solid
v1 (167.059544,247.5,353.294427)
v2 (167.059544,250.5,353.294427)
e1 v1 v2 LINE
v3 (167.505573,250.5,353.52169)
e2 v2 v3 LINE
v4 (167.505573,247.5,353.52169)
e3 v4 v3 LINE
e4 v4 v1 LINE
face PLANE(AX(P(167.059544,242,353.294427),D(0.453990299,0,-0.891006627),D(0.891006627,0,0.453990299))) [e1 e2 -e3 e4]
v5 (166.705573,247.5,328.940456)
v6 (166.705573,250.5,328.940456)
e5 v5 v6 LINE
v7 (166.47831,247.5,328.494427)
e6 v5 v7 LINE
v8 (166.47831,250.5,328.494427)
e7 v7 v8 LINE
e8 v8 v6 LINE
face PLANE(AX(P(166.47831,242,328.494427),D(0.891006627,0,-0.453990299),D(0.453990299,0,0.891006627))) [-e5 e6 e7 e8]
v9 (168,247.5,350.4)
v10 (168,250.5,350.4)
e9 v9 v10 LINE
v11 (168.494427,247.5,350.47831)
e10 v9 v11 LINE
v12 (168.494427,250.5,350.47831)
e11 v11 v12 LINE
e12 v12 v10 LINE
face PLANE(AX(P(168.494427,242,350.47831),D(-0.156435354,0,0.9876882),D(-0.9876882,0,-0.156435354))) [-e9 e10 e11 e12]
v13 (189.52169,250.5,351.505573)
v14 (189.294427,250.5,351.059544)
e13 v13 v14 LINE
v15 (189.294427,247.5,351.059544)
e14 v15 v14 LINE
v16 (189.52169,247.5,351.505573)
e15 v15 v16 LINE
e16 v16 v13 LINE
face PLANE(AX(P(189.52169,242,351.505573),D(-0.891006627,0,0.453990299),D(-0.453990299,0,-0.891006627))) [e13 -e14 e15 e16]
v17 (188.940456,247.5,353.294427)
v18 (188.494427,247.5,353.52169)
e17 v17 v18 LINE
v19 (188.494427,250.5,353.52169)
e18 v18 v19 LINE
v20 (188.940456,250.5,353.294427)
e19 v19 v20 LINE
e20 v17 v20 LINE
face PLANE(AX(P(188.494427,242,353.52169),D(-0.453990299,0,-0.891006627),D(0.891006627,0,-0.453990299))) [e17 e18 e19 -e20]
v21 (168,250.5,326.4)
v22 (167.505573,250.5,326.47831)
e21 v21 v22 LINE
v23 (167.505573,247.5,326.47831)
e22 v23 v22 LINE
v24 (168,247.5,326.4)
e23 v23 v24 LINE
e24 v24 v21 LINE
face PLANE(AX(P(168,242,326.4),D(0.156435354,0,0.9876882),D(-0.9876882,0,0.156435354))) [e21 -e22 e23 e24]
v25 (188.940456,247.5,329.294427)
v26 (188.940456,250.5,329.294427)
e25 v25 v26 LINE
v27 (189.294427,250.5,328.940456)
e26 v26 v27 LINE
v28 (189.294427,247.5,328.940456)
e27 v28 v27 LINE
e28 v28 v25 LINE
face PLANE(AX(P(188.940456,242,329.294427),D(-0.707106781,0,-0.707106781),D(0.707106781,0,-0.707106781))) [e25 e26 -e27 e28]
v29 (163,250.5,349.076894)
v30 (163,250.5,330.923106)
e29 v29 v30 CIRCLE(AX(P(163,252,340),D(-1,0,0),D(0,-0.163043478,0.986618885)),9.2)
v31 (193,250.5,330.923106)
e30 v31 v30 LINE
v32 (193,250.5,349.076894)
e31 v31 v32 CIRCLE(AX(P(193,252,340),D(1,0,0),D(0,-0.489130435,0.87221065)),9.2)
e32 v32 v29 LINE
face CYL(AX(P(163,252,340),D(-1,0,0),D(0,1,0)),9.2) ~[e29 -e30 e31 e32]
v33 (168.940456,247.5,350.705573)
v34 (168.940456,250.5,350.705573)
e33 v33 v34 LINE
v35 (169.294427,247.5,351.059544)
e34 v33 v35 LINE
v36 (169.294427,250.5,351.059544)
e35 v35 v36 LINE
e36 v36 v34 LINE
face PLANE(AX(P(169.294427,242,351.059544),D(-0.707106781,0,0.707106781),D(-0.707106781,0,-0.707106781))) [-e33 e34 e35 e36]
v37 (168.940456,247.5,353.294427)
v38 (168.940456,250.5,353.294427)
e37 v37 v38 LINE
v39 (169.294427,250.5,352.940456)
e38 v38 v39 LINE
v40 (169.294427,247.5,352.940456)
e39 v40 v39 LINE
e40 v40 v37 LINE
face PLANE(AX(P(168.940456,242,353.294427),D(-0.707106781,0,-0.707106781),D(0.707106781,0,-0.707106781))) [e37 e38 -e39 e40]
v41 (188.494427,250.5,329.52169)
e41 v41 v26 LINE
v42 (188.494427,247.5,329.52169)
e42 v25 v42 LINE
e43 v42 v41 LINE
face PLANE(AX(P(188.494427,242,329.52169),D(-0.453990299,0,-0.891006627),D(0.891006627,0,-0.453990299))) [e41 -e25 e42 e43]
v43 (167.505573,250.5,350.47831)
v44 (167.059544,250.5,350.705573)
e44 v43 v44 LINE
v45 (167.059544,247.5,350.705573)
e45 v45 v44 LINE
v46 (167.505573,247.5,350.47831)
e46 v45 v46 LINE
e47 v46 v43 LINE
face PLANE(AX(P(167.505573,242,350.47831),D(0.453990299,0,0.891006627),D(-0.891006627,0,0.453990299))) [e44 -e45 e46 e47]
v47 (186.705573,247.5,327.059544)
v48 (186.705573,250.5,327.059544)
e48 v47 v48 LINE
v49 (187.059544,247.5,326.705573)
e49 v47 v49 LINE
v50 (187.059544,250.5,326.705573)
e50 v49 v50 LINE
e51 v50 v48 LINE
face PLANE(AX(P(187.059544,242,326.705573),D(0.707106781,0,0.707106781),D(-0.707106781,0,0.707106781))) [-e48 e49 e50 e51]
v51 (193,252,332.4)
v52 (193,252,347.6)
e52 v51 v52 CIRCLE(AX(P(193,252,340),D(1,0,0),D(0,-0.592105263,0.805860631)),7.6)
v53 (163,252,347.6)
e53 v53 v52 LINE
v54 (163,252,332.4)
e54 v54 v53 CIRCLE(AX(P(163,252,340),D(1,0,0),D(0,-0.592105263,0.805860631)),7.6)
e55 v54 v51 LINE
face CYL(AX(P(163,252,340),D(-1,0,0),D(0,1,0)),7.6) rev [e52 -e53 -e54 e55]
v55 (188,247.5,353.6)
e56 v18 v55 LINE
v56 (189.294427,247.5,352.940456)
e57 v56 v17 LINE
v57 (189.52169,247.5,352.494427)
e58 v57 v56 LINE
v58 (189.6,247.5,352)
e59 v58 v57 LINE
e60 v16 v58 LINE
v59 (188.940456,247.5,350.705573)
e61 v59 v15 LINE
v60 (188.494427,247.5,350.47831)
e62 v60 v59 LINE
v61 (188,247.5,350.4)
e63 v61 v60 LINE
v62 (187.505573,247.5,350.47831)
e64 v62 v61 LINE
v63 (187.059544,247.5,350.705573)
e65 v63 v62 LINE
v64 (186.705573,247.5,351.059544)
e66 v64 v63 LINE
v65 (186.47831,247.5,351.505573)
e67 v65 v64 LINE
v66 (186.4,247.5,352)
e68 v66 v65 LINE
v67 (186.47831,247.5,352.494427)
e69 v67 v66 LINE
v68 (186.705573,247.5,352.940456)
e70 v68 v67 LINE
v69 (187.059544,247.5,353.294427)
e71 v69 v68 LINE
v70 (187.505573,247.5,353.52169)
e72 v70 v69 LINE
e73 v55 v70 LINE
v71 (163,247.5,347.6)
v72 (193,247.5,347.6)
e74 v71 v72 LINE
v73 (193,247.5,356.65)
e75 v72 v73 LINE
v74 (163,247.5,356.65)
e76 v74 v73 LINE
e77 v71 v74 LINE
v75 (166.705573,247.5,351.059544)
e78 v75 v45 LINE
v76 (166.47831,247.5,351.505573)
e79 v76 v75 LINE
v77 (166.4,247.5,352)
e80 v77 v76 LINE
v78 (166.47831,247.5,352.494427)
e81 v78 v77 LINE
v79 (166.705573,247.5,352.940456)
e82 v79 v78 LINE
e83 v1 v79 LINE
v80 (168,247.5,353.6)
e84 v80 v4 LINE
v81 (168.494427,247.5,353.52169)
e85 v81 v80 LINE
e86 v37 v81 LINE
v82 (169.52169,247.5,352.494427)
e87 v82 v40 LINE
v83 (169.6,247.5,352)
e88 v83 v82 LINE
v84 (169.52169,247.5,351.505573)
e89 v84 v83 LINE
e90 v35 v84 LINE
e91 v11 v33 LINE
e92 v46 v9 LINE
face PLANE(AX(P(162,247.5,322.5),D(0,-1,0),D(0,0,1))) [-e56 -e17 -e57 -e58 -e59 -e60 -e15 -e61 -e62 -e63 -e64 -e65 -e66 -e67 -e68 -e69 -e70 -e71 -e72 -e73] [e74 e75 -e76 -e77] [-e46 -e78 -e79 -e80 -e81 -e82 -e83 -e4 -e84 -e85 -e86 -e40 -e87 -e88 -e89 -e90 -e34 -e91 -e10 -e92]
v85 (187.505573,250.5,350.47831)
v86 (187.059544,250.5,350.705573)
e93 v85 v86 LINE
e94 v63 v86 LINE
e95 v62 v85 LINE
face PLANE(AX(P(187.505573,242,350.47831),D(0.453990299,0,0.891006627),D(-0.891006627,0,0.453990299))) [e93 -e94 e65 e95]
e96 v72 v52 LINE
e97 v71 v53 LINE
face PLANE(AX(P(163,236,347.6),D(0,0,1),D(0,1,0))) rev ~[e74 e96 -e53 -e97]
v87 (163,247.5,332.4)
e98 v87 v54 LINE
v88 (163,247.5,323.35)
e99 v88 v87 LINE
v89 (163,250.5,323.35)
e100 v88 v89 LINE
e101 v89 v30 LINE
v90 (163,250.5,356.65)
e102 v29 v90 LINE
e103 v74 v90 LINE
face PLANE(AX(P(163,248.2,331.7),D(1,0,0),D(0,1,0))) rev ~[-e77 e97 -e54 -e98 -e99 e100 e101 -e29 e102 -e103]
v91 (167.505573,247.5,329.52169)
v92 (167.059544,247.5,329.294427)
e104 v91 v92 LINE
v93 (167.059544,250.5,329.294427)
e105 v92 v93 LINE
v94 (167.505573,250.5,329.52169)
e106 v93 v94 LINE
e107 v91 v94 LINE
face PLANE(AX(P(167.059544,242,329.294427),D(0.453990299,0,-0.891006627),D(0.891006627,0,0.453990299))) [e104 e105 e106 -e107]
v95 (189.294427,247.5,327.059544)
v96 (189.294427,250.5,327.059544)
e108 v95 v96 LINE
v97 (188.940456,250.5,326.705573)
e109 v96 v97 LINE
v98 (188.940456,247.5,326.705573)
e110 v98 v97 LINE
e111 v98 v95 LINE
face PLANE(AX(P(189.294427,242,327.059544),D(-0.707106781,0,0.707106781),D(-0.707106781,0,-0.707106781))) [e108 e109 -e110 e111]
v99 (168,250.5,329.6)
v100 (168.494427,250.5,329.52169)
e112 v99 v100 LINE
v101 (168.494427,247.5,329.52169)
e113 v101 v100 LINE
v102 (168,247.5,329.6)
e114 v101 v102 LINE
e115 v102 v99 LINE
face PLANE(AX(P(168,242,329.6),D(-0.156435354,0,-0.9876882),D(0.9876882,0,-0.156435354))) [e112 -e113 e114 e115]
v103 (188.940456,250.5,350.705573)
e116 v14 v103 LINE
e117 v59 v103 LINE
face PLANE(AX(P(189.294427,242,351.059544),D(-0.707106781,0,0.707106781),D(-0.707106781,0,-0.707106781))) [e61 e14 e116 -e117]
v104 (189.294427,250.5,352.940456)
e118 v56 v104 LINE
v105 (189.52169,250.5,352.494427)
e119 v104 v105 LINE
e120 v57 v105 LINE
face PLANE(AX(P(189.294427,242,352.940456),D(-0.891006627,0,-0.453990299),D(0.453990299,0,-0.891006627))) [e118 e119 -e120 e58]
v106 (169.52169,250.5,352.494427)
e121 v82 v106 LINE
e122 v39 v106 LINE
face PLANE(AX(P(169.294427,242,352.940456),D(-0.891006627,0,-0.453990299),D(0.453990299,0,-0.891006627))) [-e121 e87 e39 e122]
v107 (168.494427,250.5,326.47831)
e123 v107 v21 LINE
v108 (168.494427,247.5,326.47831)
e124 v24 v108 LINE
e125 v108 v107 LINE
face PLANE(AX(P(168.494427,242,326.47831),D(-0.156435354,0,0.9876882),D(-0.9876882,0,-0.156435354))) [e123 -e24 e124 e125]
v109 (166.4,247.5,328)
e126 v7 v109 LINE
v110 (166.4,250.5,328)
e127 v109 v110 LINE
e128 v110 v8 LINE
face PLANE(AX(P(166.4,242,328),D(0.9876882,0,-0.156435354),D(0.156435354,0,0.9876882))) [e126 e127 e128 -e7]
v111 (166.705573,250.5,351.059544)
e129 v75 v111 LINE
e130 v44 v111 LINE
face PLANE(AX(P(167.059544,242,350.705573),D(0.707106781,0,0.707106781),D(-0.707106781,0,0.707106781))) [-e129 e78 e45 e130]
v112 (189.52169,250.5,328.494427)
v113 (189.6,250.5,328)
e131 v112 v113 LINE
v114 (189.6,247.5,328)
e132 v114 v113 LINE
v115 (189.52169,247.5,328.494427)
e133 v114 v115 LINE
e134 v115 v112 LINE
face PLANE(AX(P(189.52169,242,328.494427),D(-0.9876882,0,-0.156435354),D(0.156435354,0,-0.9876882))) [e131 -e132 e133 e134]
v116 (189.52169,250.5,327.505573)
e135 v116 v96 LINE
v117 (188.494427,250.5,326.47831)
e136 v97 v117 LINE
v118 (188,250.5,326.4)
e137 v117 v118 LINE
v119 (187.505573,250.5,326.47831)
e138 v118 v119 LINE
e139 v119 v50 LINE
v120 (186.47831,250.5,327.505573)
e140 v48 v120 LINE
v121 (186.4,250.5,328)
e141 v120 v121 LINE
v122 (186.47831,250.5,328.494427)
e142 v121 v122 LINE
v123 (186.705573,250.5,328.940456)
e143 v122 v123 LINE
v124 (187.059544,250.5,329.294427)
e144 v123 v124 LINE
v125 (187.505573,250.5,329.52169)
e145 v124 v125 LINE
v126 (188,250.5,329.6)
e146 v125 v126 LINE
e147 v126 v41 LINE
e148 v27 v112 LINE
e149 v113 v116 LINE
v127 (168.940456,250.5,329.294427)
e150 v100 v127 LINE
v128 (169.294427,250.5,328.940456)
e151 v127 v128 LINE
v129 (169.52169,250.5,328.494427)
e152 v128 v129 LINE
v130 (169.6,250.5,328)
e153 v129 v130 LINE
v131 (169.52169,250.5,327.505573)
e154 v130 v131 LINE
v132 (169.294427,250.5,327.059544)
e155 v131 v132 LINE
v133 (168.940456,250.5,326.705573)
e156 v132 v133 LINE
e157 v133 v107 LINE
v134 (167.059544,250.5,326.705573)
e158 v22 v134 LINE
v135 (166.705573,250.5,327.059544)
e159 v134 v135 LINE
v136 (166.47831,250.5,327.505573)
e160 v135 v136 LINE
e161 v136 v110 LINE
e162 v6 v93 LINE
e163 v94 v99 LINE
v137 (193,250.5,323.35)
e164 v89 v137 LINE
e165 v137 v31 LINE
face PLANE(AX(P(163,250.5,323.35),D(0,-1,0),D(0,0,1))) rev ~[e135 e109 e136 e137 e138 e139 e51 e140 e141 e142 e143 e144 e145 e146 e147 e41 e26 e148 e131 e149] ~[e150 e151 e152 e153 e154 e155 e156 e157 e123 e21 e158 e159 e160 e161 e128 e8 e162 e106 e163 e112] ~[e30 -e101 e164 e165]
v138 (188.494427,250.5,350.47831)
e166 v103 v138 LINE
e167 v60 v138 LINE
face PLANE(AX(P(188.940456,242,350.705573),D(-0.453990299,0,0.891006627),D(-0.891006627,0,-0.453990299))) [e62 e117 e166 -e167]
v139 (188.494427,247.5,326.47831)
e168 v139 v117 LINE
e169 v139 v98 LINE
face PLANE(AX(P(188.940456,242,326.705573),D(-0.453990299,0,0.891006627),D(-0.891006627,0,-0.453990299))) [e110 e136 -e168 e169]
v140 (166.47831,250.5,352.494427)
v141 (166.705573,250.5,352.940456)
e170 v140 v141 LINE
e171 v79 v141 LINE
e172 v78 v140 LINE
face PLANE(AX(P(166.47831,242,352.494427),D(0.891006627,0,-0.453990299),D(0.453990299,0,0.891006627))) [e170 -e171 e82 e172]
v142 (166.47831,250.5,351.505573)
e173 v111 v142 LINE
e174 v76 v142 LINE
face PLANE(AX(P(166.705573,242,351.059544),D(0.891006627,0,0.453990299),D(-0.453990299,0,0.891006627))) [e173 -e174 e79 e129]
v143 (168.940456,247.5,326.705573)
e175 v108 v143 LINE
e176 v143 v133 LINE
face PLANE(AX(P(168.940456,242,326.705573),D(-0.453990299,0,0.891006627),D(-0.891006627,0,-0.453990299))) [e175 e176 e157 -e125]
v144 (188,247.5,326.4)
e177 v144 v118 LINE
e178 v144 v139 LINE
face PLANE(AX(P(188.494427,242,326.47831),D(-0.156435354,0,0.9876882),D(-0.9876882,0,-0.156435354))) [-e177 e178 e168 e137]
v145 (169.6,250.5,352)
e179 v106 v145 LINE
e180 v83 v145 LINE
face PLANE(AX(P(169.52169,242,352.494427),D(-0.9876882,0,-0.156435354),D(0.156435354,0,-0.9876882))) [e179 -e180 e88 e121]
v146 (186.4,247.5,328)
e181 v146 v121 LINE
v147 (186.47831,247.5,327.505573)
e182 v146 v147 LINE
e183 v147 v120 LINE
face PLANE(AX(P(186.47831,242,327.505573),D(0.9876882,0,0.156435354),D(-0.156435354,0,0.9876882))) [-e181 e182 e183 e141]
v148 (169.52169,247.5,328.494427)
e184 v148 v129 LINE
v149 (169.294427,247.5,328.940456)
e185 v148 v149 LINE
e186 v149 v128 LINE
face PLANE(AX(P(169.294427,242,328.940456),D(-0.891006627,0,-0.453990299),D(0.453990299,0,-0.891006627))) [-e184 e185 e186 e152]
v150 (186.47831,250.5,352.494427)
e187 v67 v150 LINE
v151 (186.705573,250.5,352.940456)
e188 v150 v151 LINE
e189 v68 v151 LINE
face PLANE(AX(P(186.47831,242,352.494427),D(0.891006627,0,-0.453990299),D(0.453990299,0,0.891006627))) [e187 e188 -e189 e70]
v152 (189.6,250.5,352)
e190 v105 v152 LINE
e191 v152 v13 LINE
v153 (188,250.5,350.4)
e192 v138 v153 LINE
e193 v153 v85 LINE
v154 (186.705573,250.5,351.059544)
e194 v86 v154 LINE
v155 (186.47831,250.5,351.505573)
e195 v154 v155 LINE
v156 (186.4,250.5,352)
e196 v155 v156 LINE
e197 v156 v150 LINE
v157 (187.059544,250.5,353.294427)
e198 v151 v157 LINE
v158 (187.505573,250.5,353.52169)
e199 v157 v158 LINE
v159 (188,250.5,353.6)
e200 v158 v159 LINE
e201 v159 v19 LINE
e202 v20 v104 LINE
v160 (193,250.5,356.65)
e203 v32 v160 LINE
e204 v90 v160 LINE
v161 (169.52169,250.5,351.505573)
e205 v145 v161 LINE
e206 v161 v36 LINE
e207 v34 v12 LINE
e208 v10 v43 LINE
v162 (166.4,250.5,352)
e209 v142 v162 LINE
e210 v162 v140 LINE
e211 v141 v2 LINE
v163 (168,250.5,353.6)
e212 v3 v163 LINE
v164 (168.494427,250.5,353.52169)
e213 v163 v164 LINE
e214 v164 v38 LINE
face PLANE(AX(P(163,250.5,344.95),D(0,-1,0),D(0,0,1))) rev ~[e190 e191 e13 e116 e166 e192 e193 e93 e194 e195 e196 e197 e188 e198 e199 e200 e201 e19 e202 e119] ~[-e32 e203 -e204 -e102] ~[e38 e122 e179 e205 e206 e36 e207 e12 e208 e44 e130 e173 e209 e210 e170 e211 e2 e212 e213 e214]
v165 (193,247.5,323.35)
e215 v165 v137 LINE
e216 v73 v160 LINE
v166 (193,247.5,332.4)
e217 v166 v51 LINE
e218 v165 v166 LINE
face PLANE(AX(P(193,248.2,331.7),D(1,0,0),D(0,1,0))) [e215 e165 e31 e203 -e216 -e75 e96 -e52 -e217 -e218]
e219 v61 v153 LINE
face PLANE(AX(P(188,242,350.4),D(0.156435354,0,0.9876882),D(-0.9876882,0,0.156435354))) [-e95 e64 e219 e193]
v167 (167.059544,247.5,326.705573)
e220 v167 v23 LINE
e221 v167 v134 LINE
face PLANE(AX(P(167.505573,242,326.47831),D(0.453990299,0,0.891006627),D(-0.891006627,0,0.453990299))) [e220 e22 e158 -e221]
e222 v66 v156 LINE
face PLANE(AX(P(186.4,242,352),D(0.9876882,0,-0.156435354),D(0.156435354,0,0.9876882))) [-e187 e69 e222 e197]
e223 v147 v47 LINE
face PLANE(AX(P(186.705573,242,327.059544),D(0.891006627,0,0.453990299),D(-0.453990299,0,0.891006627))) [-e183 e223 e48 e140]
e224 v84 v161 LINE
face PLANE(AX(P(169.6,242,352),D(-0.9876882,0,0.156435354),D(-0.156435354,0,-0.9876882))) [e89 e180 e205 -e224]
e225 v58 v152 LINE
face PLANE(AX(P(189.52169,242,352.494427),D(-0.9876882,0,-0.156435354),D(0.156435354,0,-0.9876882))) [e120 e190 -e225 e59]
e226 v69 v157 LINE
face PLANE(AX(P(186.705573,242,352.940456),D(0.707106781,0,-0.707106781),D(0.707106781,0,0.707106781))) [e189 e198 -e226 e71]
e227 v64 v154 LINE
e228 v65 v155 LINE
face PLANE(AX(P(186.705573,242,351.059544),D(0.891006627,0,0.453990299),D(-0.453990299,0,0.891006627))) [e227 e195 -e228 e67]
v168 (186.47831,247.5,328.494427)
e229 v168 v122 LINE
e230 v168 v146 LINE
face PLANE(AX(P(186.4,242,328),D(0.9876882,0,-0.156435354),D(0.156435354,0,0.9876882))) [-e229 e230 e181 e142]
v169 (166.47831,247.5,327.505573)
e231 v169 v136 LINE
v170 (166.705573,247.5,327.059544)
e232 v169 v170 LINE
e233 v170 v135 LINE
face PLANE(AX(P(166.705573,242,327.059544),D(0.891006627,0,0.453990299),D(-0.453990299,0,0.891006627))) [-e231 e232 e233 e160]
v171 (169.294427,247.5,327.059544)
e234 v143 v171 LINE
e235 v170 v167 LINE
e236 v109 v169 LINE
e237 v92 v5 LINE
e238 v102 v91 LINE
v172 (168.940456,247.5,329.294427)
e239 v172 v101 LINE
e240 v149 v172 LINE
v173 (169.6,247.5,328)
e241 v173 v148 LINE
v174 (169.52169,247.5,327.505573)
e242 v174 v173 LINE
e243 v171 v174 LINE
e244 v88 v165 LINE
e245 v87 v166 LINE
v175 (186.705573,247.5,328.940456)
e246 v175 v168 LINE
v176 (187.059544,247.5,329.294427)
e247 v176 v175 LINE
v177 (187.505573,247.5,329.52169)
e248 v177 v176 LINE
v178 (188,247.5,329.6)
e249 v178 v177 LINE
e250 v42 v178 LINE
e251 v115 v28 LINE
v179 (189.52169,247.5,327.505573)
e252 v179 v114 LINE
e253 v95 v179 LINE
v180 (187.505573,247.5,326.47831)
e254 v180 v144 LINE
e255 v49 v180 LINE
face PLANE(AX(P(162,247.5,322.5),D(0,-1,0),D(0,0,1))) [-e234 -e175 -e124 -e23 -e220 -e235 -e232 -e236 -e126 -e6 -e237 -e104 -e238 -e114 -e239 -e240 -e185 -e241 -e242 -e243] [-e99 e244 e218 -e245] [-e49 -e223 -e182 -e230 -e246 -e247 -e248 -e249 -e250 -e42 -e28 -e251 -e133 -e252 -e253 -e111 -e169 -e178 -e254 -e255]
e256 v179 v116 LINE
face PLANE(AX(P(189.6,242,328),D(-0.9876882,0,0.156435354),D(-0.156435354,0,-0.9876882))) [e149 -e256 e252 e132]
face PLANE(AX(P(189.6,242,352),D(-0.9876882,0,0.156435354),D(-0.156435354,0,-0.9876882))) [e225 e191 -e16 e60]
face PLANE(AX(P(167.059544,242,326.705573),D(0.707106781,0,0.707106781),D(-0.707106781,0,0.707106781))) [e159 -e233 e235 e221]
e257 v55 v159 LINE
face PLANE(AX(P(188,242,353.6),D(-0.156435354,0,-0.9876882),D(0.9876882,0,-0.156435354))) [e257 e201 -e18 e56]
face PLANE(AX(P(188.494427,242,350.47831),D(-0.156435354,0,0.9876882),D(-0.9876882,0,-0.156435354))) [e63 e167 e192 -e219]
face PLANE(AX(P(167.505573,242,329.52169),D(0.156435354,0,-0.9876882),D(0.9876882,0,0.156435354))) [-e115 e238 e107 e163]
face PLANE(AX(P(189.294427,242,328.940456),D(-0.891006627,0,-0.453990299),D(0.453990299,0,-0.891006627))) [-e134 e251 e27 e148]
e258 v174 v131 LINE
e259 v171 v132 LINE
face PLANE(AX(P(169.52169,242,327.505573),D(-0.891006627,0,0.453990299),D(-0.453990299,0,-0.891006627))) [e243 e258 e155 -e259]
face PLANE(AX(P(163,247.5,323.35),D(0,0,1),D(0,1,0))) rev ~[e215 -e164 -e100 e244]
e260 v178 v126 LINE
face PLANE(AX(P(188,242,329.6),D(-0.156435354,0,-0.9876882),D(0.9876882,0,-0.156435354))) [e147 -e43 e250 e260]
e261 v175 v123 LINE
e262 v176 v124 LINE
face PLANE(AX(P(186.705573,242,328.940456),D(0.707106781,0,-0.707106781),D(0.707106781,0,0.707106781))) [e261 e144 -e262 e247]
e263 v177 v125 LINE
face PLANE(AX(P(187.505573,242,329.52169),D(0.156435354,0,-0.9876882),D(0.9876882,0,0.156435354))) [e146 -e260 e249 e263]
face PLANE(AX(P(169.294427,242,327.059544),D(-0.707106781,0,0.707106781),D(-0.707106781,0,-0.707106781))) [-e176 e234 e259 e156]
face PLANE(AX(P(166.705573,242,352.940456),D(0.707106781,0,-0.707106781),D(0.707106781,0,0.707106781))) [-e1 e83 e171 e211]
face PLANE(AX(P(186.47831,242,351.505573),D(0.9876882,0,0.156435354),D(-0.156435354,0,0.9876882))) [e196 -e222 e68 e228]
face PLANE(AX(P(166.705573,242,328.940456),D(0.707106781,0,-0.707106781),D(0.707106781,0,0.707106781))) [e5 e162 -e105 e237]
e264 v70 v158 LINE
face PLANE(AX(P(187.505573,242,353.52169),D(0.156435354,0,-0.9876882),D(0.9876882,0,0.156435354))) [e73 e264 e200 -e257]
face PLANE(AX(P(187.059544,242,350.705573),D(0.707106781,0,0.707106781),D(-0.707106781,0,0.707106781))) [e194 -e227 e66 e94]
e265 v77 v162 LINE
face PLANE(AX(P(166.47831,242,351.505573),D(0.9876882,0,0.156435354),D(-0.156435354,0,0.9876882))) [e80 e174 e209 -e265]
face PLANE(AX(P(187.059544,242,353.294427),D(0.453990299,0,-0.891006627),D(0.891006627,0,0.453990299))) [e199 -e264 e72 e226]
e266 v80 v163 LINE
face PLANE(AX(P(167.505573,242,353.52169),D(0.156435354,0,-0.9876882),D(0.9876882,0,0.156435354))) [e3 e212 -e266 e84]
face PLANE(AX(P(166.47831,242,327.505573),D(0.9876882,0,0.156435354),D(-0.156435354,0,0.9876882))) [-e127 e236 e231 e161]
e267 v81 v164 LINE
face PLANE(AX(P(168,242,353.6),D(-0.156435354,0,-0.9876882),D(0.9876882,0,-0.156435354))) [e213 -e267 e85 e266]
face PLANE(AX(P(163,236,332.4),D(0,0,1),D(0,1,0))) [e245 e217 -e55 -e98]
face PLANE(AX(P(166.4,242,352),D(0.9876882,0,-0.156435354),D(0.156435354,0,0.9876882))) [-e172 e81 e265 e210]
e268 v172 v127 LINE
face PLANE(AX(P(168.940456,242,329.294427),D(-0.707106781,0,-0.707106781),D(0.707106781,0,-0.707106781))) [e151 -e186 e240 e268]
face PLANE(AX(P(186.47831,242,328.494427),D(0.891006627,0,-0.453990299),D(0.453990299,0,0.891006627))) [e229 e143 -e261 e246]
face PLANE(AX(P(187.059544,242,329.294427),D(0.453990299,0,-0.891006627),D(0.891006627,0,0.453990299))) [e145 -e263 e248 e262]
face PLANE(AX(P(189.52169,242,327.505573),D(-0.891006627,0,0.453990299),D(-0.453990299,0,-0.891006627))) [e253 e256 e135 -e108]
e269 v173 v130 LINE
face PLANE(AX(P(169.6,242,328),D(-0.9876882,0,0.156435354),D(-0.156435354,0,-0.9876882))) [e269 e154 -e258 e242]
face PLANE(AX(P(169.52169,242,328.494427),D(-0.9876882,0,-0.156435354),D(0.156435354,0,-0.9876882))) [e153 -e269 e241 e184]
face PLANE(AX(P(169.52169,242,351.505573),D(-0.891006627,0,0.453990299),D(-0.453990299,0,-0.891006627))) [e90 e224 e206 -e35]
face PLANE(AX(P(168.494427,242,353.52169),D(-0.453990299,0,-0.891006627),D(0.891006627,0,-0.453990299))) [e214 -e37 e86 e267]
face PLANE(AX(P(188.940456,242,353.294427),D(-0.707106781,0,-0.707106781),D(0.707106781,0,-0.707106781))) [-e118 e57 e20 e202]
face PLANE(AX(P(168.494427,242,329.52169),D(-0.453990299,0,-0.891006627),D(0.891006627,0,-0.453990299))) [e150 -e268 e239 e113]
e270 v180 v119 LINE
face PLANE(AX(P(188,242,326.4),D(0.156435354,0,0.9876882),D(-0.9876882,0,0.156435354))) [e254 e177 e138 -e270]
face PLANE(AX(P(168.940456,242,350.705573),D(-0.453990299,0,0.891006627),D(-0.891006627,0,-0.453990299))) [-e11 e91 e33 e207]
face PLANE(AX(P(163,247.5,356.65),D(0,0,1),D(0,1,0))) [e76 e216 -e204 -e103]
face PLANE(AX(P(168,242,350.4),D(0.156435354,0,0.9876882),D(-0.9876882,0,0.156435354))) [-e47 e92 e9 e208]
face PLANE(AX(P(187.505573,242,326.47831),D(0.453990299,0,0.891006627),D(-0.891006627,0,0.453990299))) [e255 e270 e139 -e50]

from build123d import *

# Parameters (mm, degrees)
PRISM066_DEPTH                = 10
PRISM066_PITCH_ANGLE          = 90
PRISM067_DEPTH                = 10
PRISM067_PITCH_ANGLE          = 90
PRISM068_DEPTH                = 10
PRISM068_PITCH_ANGLE          = 90
PRISM069_DEPTH                = 10
PRISM069_PITCH_ANGLE          = 90
CUBE076_W                     = 5
CUBE076_H                     = 35
CUBE076_DEPTH                 = 32
CUBE075_W                     = 16
CUBE075_H                     = 15.2
CUBE075_DEPTH                 = 30
CUBE071_W                     = 3
CUBE071_H                     = 11.7
CUBE071_DEPTH                 = 30
CUBE072_W                     = 3
CUBE072_H                     = 11.7
CUBE072_DEPTH                 = 30
CUBE073_W                     = 1.6
CUBE073_H                     = 1.6
CUBE073_DEPTH                 = 30
CUBE074_W                     = 1.6
CUBE074_H                     = 1.6
CUBE074_DEPTH                 = 30
CYLINDER019_R                 = 7.6
CYLINDER019_DEPTH             = 30
CYLINDER018_R                 = 9.2
CYLINDER018_DEPTH             = 30
DIFFERENCE048_ROLL_ANGLE      = 90
DIFFERENCE048_PLACEMENT_ANGLE = 90


with BuildPart() as prism066:
    # prism066 → prism066 (new body)
    with BuildSketch(Plane.XY):
        Polygon((1.6, 0), (1.52169, 0.494427), (1.294427, 0.940456), (0.940456, 1.294427), (0.494427, 1.52169), (0, 1.6), (-0.494427, 1.52169), (-0.940456, 1.294427), (-1.294427, 0.940456), (-1.52169, 0.494427), (-1.6, 0), (-1.52169, -0.494427), (-1.294427, -0.940456), (-0.940456, -1.294427), (-0.494427, -1.52169), (0, -1.6), (0.494427, -1.52169), (0.940456, -1.294427), (1.294427, -0.940456), (1.52169, -0.494427), align=None)
    extrude(amount=PRISM066_DEPTH)


with BuildPart() as prism066_1:
    # prism066 pitch: moved
    add(prism066.part.rotate(Axis((0, 0, 0), (0, 1, 0)), PRISM066_PITCH_ANGLE))


with BuildPart() as prism066_2:
    # prism066 placement: moved
    add(prism066_1.part.moved(Location((-10, 12, 10))))


with BuildPart() as prism067:
    # prism067 → prism067 (new body)
    with BuildSketch(Plane.XY):
        Polygon((1.6, 0), (1.52169, 0.494427), (1.294427, 0.940456), (0.940456, 1.294427), (0.494427, 1.52169), (0, 1.6), (-0.494427, 1.52169), (-0.940456, 1.294427), (-1.294427, 0.940456), (-1.52169, 0.494427), (-1.6, 0), (-1.52169, -0.494427), (-1.294427, -0.940456), (-0.940456, -1.294427), (-0.494427, -1.52169), (0, -1.6), (0.494427, -1.52169), (0.940456, -1.294427), (1.294427, -0.940456), (1.52169, -0.494427), align=None)
    extrude(amount=PRISM067_DEPTH)


with BuildPart() as prism067_1:
    # prism067 pitch: moved
    add(prism067.part.rotate(Axis((0, 0, 0), (0, 1, 0)), PRISM067_PITCH_ANGLE))


with BuildPart() as prism067_2:
    # prism067 placement: moved
    add(prism067_1.part.moved(Location((-10, 12, -10))))


with BuildPart() as prism068:
    # prism068 → prism068 (new body)
    with BuildSketch(Plane.XY):
        Polygon((1.6, 0), (1.52169, 0.494427), (1.294427, 0.940456), (0.940456, 1.294427), (0.494427, 1.52169), (0, 1.6), (-0.494427, 1.52169), (-0.940456, 1.294427), (-1.294427, 0.940456), (-1.52169, 0.494427), (-1.6, 0), (-1.52169, -0.494427), (-1.294427, -0.940456), (-0.940456, -1.294427), (-0.494427, -1.52169), (0, -1.6), (0.494427, -1.52169), (0.940456, -1.294427), (1.294427, -0.940456), (1.52169, -0.494427), align=None)
    extrude(amount=PRISM068_DEPTH)


with BuildPart() as prism068_1:
    # prism068 pitch: moved
    add(prism068.part.rotate(Axis((0, 0, 0), (0, 1, 0)), PRISM068_PITCH_ANGLE))


with BuildPart() as prism068_2:
    # prism068 placement: moved
    add(prism068_1.part.moved(Location((-10, -12, 10))))


with BuildPart() as prism069:
    # prism069 → prism069 (new body)
    with BuildSketch(Plane.XY):
        Polygon((1.6, 0), (1.52169, 0.494427), (1.294427, 0.940456), (0.940456, 1.294427), (0.494427, 1.52169), (0, 1.6), (-0.494427, 1.52169), (-0.940456, 1.294427), (-1.294427, 0.940456), (-1.52169, 0.494427), (-1.6, 0), (-1.52169, -0.494427), (-1.294427, -0.940456), (-0.940456, -1.294427), (-0.494427, -1.52169), (0, -1.6), (0.494427, -1.52169), (0.940456, -1.294427), (1.294427, -0.940456), (1.52169, -0.494427), align=None)
    extrude(amount=PRISM069_DEPTH)


with BuildPart() as prism069_1:
    # prism069 pitch: moved
    add(prism069.part.rotate(Axis((0, 0, 0), (0, 1, 0)), PRISM069_PITCH_ANGLE))


with BuildPart() as prism069_2:
    # prism069 placement: moved
    add(prism069_1.part.moved(Location((-10, -12, -10))))


with BuildPart() as cube076:
    # cube076 → cube076 (new body)
    with BuildSketch(Plane(origin=(-9.5, -17.5, -16), x_dir=(1, 0, 0), z_dir=(0, 0, 1))):
        with Locations((2.5, 17.5)):
            Rectangle(CUBE076_W, CUBE076_H)
    extrude(amount=CUBE076_DEPTH)


with BuildPart() as union036:
    # cube075 → cube075 (new body)
    with BuildSketch(Plane(origin=(-16, -7.6, -15), x_dir=(1, 0, 0), z_dir=(0, 0, 1))):
        with Locations((8, 7.6)):
            Rectangle(CUBE075_W, CUBE075_H)
    extrude(amount=CUBE075_DEPTH)

    # union036: union prism066, prism067, prism068, prism069, cube076
    add(prism066_2.part)
    add(prism067_2.part)
    add(prism068_2.part)
    add(prism069_2.part)
    add(cube076.part)


with BuildPart() as cube071:
    # cube071 → cube071 (new body)
    with BuildSketch(Plane(origin=(-4.5, 4.95, -15), x_dir=(1, 0, 0), z_dir=(0, 0, 1))):
        with Locations((1.5, 5.85)):
            Rectangle(CUBE071_W, CUBE071_H)
    extrude(amount=CUBE071_DEPTH)


with BuildPart() as cube072:
    # cube072 → cube072 (new body)
    with BuildSketch(Plane(origin=(-4.5, -16.65, -15), x_dir=(1, 0, 0), z_dir=(0, 0, 1))):
        with Locations((1.5, 5.85)):
            Rectangle(CUBE072_W, CUBE072_H)
    extrude(amount=CUBE072_DEPTH)


with BuildPart() as cube073:
    # cube073 → cube073 (new body)
    with BuildSketch(Plane(origin=(-4.6, 7.5, -15), x_dir=(1, 0, 0), z_dir=(0, 0, 1))):
        with Locations((0.8, 0.8)):
            Rectangle(CUBE073_W, CUBE073_H)
    extrude(amount=CUBE073_DEPTH)


with BuildPart() as cube074:
    # cube074 → cube074 (new body)
    with BuildSketch(Plane(origin=(-4.6, -9.1, -15), x_dir=(1, 0, 0), z_dir=(0, 0, 1))):
        with Locations((0.8, 0.8)):
            Rectangle(CUBE074_W, CUBE074_H)
    extrude(amount=CUBE074_DEPTH)


with BuildPart() as cylinder019:
    # cylinder019 → cylinder019 (new body)
    with BuildSketch(Plane.XY.offset(-15)):
        Circle(CYLINDER019_R)
    extrude(amount=CYLINDER019_DEPTH)


with BuildPart() as difference048:
    # cylinder018 → cylinder018 (new body)
    with BuildSketch(Plane.XY.offset(-15)):
        Circle(CYLINDER018_R)
    extrude(amount=CYLINDER018_DEPTH)

    # difference047: cut cylinder019
    add(cylinder019.part, mode=Mode.SUBTRACT)

    # union035: union cube071, cube072, cube073, cube074
    add(cube071.part)
    add(cube072.part)
    add(cube073.part)
    add(cube074.part)

    # difference048: cut union036
    add(union036.part, mode=Mode.SUBTRACT)


with BuildPart() as difference048_1:
    # difference048 roll: moved
    add(difference048.part.rotate(Axis((0, 0, 0), (1, 0, 0)), DIFFERENCE048_ROLL_ANGLE))


with BuildPart() as difference048_2:
    # difference048 placement: moved
    add(difference048_1.part.moved(Location((178, 252, 340))).rotate(Axis((178, 252, 340), (0, 0, 1)), DIFFERENCE048_PLACEMENT_ANGLE))


solid = difference048_2.part
